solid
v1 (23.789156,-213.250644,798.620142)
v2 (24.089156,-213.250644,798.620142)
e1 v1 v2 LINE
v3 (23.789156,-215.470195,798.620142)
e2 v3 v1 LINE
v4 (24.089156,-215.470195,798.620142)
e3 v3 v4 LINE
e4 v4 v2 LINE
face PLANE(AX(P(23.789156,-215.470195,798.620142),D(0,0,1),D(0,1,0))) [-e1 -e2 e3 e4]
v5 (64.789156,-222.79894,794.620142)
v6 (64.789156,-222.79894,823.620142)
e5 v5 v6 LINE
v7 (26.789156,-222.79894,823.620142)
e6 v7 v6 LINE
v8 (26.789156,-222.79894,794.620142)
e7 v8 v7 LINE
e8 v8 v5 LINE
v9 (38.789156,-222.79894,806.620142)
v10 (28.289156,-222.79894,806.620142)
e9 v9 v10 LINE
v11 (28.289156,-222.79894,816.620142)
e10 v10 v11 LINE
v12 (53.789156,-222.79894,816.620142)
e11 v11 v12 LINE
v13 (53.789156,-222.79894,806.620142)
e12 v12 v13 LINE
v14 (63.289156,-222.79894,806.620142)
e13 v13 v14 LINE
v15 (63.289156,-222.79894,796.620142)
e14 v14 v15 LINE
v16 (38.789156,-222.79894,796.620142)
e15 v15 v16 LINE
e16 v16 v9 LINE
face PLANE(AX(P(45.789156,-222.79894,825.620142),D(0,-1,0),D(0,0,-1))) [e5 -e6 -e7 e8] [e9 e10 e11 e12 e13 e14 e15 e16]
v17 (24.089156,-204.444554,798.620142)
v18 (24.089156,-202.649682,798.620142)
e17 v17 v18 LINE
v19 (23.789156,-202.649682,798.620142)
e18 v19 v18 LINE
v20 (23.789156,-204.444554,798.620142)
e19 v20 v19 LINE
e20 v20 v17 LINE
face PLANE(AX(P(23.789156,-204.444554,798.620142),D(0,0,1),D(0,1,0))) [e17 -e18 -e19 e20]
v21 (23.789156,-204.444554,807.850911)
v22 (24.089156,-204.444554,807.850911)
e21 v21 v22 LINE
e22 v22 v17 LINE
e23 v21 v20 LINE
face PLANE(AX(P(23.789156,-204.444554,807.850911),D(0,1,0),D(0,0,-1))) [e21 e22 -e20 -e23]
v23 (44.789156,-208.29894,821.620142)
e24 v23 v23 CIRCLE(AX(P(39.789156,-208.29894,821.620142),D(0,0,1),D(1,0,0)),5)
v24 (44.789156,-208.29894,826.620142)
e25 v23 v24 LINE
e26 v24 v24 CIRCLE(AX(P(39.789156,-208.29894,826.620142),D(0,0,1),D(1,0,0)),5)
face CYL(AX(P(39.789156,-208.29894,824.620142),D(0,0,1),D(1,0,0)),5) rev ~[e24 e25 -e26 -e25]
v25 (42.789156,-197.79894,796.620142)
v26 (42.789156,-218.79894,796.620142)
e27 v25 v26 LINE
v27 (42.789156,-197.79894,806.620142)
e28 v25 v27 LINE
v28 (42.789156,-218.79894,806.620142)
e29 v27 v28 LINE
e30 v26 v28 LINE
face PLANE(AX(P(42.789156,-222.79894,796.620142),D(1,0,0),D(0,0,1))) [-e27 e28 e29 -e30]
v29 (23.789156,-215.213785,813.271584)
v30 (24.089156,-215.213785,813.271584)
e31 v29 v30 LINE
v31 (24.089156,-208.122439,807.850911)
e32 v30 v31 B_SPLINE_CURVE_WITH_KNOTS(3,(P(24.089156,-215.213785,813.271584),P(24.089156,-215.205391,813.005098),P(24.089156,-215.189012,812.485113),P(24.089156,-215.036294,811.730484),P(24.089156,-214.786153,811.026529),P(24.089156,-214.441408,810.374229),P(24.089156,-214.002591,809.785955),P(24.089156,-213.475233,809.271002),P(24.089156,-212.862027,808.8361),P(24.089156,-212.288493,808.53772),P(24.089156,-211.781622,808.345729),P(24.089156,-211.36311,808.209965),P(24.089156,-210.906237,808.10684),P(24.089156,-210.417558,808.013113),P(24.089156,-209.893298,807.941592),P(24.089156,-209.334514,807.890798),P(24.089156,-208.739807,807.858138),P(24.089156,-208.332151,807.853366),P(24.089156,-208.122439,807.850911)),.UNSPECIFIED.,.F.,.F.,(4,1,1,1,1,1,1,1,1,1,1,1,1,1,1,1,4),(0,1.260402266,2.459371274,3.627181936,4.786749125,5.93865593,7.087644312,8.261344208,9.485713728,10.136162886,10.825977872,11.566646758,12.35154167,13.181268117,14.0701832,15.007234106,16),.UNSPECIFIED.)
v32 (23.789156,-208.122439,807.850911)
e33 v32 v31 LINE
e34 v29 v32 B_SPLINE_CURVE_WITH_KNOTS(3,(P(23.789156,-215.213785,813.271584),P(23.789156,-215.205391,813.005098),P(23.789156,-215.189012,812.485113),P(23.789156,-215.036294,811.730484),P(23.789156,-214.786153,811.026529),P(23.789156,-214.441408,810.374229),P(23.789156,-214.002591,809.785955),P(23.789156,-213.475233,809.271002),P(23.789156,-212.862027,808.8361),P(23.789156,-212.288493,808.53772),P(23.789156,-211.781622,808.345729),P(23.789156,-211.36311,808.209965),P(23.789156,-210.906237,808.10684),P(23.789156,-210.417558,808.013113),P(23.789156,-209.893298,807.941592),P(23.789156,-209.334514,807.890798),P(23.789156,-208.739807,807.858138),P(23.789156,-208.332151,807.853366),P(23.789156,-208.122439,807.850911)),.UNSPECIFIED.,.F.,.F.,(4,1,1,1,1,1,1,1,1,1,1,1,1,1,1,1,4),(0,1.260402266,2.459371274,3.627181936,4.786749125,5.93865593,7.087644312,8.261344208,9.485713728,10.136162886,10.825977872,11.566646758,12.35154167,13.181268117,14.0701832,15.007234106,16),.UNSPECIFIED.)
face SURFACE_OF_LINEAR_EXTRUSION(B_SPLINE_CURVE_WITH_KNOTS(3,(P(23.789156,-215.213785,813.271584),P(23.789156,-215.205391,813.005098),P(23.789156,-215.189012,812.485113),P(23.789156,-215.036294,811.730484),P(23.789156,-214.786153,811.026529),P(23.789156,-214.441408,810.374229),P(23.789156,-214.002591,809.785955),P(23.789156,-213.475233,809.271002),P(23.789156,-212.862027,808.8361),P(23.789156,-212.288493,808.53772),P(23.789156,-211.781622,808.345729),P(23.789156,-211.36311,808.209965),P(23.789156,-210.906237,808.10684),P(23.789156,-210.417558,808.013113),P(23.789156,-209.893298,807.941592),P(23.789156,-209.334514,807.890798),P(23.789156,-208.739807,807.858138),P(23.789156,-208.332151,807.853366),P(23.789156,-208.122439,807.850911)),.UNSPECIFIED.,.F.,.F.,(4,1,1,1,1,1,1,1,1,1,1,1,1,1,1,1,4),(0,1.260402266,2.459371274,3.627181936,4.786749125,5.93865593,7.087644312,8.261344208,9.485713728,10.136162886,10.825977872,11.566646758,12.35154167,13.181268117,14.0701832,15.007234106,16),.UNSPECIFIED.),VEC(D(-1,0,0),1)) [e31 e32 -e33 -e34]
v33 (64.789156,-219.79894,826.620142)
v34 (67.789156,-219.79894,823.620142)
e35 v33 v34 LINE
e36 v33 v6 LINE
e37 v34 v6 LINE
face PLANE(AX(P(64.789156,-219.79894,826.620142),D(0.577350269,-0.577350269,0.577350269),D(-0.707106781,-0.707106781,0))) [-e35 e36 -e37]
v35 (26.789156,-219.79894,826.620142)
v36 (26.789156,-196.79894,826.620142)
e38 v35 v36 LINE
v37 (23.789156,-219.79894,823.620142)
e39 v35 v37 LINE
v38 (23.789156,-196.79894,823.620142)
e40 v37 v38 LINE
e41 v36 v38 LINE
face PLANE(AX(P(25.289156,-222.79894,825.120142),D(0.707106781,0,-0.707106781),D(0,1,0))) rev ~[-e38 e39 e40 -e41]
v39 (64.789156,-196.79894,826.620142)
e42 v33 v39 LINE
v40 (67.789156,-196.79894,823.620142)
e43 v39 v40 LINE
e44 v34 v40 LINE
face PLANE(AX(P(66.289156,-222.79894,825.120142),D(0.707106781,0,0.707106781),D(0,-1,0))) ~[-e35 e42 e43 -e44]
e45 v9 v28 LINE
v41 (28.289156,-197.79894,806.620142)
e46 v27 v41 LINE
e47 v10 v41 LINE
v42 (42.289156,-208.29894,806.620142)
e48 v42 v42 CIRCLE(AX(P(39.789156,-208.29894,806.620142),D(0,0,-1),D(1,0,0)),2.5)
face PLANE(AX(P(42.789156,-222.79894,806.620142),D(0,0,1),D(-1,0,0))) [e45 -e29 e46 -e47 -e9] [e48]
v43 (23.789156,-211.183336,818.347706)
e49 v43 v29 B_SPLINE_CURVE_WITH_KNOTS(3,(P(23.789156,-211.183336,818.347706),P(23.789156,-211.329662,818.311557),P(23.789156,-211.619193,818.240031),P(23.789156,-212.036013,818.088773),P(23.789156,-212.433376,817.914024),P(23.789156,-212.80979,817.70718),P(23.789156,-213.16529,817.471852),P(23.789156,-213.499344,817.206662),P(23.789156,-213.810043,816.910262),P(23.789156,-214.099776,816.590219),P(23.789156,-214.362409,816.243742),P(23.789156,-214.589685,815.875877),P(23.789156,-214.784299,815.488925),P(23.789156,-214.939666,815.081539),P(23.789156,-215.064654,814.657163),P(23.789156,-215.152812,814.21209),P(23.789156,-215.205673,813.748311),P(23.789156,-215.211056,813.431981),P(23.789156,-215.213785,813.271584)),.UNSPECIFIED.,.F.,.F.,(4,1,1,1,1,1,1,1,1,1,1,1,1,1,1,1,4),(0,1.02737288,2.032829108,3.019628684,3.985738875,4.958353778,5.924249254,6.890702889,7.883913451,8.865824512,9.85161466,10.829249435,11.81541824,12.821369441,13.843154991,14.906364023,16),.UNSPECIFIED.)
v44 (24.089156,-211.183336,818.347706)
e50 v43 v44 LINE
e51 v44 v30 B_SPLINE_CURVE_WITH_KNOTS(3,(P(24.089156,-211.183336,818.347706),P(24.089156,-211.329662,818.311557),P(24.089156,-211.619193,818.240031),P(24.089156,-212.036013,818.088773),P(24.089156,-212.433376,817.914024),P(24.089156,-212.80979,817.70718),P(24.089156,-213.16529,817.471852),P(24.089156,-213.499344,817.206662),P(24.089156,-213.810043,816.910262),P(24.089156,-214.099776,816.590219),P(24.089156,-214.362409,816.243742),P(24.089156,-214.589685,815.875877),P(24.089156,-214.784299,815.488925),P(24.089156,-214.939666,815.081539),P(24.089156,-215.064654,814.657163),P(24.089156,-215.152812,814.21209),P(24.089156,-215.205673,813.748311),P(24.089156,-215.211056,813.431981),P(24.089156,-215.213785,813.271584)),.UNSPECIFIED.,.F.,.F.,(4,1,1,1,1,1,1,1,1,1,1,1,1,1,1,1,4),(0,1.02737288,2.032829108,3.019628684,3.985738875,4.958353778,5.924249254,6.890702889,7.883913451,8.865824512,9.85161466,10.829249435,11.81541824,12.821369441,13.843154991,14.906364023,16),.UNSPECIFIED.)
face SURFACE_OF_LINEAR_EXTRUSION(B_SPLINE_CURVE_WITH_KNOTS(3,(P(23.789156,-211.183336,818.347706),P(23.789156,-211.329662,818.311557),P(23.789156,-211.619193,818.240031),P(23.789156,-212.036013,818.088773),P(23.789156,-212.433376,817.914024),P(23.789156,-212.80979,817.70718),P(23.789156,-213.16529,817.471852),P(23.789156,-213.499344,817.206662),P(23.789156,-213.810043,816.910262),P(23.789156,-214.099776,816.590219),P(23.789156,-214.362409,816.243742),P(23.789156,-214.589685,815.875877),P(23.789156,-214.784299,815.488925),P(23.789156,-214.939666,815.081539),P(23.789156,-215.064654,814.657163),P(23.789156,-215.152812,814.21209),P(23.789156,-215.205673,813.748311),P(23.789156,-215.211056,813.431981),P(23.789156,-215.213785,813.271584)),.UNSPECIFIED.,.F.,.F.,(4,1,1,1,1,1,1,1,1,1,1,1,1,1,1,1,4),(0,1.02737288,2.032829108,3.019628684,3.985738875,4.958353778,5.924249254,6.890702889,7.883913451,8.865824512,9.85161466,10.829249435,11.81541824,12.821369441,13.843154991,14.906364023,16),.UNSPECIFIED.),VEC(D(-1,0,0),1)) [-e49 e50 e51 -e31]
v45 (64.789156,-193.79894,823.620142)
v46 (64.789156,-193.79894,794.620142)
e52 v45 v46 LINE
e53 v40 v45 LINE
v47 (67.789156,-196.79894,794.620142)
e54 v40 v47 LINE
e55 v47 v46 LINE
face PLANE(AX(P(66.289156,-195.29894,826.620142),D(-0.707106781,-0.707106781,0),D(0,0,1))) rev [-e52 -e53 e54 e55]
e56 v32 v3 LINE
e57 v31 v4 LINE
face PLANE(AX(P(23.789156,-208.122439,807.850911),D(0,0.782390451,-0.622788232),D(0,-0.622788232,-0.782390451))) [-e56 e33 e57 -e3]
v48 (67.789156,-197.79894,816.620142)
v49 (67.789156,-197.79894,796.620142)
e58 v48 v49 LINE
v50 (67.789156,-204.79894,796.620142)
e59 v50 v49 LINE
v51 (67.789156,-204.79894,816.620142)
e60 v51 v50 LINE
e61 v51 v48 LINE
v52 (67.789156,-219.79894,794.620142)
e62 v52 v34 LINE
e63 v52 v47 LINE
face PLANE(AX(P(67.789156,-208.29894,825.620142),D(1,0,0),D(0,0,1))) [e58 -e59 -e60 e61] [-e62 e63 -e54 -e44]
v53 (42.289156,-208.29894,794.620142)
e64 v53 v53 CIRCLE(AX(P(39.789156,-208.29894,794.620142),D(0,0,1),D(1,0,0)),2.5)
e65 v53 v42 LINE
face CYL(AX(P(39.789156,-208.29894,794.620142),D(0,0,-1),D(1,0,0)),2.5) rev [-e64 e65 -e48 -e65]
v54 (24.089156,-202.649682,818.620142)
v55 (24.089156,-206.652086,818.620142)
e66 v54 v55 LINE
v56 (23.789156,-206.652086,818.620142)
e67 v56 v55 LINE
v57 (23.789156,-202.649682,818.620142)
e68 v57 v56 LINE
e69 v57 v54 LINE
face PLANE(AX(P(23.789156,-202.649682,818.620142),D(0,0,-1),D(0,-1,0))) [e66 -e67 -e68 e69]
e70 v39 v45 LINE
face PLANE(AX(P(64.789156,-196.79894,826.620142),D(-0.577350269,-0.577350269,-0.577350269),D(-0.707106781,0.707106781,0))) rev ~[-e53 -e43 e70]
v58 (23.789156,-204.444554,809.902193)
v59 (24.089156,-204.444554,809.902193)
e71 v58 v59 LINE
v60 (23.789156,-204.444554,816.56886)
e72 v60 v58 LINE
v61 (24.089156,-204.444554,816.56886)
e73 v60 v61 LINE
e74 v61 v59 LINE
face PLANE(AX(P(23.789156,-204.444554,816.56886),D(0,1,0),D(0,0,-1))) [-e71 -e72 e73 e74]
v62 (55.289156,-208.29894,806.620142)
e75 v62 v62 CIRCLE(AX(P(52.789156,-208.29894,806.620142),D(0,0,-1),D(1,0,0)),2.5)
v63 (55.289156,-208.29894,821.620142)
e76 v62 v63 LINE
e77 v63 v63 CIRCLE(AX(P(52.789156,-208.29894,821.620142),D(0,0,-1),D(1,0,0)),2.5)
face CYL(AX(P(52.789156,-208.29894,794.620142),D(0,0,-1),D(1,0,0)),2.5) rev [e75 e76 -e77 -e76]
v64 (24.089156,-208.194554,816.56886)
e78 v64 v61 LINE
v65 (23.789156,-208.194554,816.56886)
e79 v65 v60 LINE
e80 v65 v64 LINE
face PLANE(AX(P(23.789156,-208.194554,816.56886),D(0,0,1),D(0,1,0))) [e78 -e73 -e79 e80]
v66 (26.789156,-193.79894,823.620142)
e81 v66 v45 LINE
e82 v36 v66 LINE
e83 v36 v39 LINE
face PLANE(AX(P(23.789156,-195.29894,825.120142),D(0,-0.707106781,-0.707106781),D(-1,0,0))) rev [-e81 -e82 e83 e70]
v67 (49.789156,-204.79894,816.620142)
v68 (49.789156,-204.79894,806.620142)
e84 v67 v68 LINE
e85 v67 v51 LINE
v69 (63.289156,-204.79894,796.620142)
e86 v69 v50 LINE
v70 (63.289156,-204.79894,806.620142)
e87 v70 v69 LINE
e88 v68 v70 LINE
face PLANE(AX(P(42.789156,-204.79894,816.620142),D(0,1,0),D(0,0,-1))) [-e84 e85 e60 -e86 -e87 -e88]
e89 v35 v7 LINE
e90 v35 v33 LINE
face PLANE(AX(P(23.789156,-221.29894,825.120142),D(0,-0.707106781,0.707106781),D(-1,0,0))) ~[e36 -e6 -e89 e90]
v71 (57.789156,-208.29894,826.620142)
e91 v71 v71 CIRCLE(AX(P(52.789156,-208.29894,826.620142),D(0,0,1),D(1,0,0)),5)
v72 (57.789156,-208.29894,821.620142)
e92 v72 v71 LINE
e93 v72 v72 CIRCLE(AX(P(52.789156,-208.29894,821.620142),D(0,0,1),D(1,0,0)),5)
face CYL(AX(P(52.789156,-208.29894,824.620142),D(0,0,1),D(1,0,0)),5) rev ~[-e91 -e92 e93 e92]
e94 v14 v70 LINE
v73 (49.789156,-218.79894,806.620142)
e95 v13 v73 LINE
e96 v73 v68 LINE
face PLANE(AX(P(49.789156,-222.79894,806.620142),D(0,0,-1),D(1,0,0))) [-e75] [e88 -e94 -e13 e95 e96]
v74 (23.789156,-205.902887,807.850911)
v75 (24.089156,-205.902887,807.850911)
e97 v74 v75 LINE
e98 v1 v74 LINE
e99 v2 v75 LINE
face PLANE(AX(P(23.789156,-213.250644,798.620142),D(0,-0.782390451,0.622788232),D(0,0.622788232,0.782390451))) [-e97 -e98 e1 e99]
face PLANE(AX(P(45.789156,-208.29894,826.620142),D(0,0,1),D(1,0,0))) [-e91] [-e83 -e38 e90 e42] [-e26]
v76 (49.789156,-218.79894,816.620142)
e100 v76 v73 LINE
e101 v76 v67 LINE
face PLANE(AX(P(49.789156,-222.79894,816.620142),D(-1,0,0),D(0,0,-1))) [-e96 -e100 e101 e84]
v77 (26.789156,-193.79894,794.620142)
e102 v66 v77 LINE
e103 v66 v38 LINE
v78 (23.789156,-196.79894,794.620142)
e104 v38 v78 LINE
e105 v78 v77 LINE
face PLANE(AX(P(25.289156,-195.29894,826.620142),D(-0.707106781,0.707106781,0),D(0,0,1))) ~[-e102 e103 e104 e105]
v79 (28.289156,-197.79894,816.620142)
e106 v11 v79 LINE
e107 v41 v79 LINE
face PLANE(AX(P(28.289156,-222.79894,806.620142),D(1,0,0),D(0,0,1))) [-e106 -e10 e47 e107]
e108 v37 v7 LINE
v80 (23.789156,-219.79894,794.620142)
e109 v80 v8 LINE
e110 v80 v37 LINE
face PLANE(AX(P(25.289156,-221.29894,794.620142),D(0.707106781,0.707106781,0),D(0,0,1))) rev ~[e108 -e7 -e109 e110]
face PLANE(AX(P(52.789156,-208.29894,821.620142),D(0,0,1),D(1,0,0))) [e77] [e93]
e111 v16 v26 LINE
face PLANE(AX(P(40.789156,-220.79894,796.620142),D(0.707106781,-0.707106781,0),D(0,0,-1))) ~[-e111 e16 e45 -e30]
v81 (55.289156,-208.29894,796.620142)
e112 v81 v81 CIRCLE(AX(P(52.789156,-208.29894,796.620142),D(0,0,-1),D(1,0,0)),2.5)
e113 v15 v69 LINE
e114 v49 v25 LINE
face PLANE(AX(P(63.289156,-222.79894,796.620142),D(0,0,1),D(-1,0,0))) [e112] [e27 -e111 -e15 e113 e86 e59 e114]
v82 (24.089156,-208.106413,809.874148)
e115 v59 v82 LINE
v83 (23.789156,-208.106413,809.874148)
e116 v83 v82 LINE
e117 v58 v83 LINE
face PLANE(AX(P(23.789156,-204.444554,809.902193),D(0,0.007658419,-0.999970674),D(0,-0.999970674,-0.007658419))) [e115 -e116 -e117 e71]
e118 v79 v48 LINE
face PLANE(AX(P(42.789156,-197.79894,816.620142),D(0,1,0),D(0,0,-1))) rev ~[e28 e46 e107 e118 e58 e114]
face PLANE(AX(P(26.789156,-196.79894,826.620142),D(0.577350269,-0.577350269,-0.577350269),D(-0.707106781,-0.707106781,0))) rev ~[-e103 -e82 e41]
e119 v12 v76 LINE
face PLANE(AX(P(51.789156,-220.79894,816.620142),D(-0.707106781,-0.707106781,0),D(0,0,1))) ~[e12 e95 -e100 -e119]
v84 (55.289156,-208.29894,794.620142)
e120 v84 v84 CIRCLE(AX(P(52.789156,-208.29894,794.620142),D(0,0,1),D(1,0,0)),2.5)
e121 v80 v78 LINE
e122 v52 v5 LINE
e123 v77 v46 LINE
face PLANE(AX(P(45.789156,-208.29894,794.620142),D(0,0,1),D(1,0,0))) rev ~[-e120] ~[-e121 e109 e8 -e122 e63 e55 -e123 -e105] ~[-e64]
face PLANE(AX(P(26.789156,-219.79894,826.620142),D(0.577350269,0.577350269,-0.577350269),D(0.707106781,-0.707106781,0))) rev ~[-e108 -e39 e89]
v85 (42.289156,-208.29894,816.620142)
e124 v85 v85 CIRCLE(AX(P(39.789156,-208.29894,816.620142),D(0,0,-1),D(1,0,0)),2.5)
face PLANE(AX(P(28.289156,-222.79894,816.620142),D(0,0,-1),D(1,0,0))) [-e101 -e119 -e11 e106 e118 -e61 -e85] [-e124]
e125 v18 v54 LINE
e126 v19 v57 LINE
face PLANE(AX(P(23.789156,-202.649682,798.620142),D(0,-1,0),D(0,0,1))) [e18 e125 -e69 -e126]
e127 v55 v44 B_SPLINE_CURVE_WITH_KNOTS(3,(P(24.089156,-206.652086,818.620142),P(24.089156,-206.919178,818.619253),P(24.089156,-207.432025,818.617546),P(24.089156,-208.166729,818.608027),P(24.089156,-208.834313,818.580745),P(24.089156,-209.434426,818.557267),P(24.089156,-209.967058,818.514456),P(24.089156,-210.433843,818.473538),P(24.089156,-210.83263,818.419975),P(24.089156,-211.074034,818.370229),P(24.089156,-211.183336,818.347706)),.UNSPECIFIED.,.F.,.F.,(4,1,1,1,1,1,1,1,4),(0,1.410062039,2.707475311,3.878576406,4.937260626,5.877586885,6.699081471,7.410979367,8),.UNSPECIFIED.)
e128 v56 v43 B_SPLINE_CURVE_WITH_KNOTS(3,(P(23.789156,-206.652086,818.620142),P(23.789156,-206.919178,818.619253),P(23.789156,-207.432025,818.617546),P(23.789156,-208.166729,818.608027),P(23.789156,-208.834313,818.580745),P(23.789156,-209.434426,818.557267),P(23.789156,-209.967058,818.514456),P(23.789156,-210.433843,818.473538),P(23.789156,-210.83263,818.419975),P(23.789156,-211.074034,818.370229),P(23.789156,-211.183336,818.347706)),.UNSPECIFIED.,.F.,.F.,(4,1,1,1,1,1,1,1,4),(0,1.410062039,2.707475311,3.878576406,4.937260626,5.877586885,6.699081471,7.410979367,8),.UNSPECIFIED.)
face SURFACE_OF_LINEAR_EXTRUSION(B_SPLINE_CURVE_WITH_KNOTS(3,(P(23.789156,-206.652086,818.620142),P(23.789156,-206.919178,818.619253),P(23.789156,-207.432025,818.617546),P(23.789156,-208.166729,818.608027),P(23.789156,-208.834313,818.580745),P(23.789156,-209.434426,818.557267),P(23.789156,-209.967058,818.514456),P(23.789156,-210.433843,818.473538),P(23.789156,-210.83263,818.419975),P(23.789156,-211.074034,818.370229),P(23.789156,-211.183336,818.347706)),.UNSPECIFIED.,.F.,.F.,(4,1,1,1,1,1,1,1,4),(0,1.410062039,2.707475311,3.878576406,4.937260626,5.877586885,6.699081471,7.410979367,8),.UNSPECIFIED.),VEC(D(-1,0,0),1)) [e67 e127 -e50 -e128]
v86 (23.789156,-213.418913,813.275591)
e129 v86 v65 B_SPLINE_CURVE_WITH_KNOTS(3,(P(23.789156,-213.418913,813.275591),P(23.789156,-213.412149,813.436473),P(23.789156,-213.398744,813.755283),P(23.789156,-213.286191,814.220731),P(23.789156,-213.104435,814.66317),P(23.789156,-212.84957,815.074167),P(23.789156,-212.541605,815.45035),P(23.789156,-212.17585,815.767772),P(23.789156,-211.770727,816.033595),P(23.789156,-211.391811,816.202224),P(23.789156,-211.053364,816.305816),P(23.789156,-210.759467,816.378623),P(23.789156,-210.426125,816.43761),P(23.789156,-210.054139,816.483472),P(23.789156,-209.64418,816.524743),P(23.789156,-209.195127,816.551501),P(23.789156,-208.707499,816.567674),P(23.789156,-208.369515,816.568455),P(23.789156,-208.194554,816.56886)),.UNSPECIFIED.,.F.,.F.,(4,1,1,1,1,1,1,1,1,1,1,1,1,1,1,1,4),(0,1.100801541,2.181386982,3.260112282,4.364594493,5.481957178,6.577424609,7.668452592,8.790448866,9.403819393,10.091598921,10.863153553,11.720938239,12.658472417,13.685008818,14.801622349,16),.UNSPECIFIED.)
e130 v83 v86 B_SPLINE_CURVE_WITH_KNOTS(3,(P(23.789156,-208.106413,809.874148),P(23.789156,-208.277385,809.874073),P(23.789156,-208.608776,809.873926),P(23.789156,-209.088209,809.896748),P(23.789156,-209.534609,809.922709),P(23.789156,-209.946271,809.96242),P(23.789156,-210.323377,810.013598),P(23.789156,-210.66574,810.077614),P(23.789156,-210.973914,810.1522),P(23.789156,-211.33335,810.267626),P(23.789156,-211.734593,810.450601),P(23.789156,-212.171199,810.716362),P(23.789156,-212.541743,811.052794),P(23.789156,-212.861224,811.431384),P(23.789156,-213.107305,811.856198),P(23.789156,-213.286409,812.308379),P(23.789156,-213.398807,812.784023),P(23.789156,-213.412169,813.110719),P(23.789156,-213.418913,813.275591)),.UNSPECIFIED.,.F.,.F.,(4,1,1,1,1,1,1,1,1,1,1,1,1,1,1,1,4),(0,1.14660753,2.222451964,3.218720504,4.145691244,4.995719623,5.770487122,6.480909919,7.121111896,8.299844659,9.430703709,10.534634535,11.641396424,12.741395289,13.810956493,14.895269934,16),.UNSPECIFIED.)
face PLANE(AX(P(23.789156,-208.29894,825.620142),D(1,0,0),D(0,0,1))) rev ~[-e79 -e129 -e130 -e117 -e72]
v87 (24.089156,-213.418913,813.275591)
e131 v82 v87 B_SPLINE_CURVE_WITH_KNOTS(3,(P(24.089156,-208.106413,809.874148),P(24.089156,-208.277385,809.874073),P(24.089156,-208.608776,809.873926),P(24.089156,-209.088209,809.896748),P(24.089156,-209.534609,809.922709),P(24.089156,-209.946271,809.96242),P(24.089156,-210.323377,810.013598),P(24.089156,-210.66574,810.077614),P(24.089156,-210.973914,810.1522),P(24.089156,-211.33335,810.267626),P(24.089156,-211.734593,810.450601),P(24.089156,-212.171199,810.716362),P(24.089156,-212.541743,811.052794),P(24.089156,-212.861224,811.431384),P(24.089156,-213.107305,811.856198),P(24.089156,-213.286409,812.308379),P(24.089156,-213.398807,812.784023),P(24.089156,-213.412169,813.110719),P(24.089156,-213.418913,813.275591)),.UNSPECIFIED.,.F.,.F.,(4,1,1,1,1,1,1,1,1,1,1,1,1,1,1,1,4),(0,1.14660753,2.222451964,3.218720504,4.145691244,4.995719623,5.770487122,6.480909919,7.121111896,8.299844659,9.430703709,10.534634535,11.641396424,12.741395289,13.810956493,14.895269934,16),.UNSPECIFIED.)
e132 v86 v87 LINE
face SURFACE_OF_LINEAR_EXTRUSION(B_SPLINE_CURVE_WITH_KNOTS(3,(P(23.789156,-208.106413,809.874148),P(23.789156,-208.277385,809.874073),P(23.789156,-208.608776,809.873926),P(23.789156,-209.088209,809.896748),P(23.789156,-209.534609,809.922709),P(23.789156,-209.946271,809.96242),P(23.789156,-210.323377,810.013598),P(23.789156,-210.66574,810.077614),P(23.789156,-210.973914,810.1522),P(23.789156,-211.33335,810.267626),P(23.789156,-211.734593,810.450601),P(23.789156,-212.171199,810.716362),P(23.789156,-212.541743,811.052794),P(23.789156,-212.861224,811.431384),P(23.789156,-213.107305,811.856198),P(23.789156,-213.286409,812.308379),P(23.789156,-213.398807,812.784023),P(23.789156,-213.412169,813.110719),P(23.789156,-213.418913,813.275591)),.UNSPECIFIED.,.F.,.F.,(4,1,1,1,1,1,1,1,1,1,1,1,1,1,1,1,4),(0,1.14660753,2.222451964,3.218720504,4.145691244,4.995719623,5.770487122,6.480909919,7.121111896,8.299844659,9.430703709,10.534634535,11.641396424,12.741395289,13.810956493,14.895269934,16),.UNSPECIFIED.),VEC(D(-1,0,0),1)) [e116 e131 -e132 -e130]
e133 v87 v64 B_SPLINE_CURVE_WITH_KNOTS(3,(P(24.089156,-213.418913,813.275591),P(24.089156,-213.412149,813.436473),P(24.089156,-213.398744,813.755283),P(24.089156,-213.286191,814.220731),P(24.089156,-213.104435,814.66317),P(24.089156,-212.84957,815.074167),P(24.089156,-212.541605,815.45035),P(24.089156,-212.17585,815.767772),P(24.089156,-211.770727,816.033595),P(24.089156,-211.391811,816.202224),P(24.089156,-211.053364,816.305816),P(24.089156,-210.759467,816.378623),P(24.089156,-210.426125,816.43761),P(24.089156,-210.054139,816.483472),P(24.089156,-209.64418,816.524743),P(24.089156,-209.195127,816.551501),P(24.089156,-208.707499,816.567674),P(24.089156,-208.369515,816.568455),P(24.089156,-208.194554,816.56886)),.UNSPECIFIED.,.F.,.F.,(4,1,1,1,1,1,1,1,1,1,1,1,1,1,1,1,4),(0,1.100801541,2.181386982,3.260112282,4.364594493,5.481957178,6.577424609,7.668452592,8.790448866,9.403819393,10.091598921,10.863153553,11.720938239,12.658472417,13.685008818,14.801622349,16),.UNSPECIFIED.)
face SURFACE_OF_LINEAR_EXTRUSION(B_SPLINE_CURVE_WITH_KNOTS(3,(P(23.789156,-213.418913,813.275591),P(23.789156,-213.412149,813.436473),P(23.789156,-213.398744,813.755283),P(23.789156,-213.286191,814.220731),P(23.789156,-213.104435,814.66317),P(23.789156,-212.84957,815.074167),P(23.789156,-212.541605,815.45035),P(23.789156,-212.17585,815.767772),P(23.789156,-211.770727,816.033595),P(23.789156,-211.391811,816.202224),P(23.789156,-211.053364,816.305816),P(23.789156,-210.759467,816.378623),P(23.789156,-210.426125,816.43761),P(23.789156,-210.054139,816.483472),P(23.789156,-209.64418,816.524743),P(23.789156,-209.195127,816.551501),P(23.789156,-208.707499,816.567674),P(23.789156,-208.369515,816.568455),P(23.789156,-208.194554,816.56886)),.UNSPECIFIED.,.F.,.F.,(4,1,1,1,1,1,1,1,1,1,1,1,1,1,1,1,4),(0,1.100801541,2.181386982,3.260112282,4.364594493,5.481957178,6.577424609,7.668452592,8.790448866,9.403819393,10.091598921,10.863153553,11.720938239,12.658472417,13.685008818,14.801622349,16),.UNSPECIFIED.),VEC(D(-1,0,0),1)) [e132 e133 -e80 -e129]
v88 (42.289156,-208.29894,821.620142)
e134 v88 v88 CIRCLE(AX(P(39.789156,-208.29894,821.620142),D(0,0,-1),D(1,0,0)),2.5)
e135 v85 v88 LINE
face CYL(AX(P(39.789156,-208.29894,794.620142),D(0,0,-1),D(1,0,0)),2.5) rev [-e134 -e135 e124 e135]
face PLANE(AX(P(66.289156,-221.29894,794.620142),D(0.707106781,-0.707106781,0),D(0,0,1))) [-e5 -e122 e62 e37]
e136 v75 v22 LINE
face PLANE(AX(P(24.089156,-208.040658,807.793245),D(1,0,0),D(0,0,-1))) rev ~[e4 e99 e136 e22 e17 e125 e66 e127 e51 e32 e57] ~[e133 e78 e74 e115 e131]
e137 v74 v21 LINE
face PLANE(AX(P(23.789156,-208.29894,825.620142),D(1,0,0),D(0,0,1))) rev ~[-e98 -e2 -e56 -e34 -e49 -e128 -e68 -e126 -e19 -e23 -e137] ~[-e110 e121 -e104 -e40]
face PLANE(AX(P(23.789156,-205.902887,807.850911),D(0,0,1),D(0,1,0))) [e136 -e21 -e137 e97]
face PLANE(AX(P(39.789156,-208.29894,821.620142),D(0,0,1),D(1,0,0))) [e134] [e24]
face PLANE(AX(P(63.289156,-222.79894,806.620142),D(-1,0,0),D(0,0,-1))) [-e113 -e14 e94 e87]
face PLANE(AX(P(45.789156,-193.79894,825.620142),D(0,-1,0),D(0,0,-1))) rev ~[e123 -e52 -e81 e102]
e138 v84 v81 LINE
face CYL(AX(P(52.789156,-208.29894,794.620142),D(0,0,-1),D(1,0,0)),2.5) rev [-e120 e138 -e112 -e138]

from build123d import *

# Parameters (mm, degrees)
SKETCH1_W           = 44
SKETCH1_H           = 29
SKETCH1_R           = 2.5
BOSS_EXTRUDE1_DEPTH = 30
CUT_EXTRUDE1_DEPTH  = 25
SKETCH3_W           = 20
SKETCH3_H           = 7
CUT_EXTRUDE2_DEPTH  = 29
SKETCH4_R           = 5
CUT_EXTRUDE3_DEPTH  = 3
THICKEN1_T1         = 2
CHAMFER1_SIZE       = 3
CHAMFER2_SIZE       = 4
CUT_EXTRUDE4_DEPTH  = 0.3


with BuildPart() as part:
    # Sketch1 → Boss-Extrude1 (new body)
    with BuildSketch(Plane.XY.offset(794.620141885)):
        with Locations((45.789156386, -208.298939869)):
            Rectangle(SKETCH1_W, SKETCH1_H)
        with Locations((52.789156386, -208.298939869)):
            Circle(SKETCH1_R, mode=Mode.SUBTRACT)
        with Locations((39.789156386, -208.298939869)):
            Circle(SKETCH1_R, mode=Mode.SUBTRACT)
    extrude(amount=BOSS_EXTRUDE1_DEPTH)

    # Sketch2 → Cut-Extrude1 (cut)
    with BuildSketch(Plane.XZ.offset(222.798939869)):
        Polygon((28.289156386, 816.620141885), (49.789156386, 816.620141885), (49.789156386, 806.620141885), (63.289156386, 806.620141885), (63.289156386, 796.620141885), (42.789156386, 796.620141885), (42.789156386, 806.620141885), (28.289156386, 806.620141885), align=None)
    extrude(amount=-CUT_EXTRUDE1_DEPTH, mode=Mode.SUBTRACT)

    # Sketch3 → Cut-Extrude2 (cut)
    with BuildSketch(Plane(origin=(42.789156386, 0, 0), x_dir=(0, 0, -1), z_dir=(1, 0, 0))):
        with Locations((-806.620141885, -201.298939869)):
            Rectangle(SKETCH3_W, SKETCH3_H)
    extrude(amount=CUT_EXTRUDE2_DEPTH, mode=Mode.SUBTRACT)

    # Sketch4 → Cut-Extrude3 (cut)
    with BuildSketch(Plane.XY.offset(824.620141885)):
        with Locations((39.789156386, -208.298939869)):
            Circle(SKETCH4_R)
        with Locations((52.789156386, -208.298939869)):
            Circle(SKETCH4_R)
    extrude(amount=-CUT_EXTRUDE3_DEPTH, mode=Mode.SUBTRACT)

    # Surface-Offset1: a surface, a copy of 1 face of the part
    surface_offset1_1 = part.part.faces().sort_by_distance((45.718963888, -208.298939869, 824.620141885))[0]
    add(Solid.thicken(surface_offset1_1, THICKEN1_T1))

    # Chamfer1
    chamfer1_edges = [part.edges().sort_by_distance(p)[0] for p in [
        (67.789156386, -222.798939869, 810.620141885),
        (23.789156386, -222.798939869, 810.620141885),
        (23.789156386, -193.798939869, 810.620141885),
        (67.789156386, -193.798939869, 810.620141885),
        (67.789156386, -208.298939869, 826.620141885),
        (45.789156386, -193.798939869, 826.620141885),
        (23.789156386, -208.298939869, 826.620141885),
        (45.789156386, -222.798939869, 826.620141885),
    ]]
    chamfer(chamfer1_edges, length=CHAMFER1_SIZE)

    # Chamfer2
    chamfer2_edges = [part.edges().sort_by_distance(p)[0] for p in [
        (42.789156386, -222.798939869, 801.620141885),
        (49.789156386, -222.798939869, 811.620141885),
    ]]
    chamfer(chamfer2_edges, length=CHAMFER2_SIZE)

    # Sketch5 → Cut-Extrude4 (cut)
    with BuildSketch(Plane.ZY.offset(-23.789156386)):
        with BuildLine():
            Line((818.620141885, -202.649682189), (818.620141885, -206.652086035))
            add(Edge.make_bspline(
                [(818.620141885, -206.652086035), (818.619252822, -206.919178198), (818.617545723, -207.432024737), (818.608027078, -208.166729139), (818.580745045, -208.834312551), (818.557267425, -209.434425918), (818.514456332, -209.967058232), (818.473538348, -210.433842751), (818.419974572, -210.832629594), (818.370229298, -211.074034458), (818.347705987, -211.183336035)],
                knots=[0, 0, 0, 0, 1.410062039, 2.707475311, 3.878576406, 4.937260626, 5.877586885, 6.699081471, 7.410979367, 8, 8, 8, 8], degree=3))
            add(Edge.make_bspline(
                [(818.347705987, -211.183336035), (818.311557144, -211.329662179), (818.240030609, -211.619192932), (818.088773389, -212.036013061), (817.914023625, -212.43337572), (817.707180436, -212.809789724), (817.471851613, -213.165289992), (817.206662217, -213.499344244), (816.910261737, -213.810042595), (816.590218995, -214.099775718), (816.243741522, -214.36240947), (815.875876555, -214.589684619), (815.488924875, -214.784299189), (815.081538972, -214.939665852), (814.657162625, -215.06465357), (814.212090229, -215.15281158), (813.748311447, -215.205673278), (813.431980786, -215.211055618), (813.271584192, -215.213784753)],
                knots=[0, 0, 0, 0, 1.02737288, 2.032829108, 3.019628684, 3.985738875, 4.958353778, 5.924249254, 6.890702889, 7.883913451, 8.865824512, 9.85161466, 10.829249435, 11.81541824, 12.821369441, 13.843154991, 14.906364023, 16, 16, 16, 16], degree=3))
            add(Edge.make_bspline(
                [(813.271584192, -215.213784753), (813.005097574, -215.205390696), (812.485113159, -215.189011716), (811.730483834, -215.036293795), (811.02652923, -214.786153381), (810.374229006, -214.441407876), (809.785954605, -214.002591168), (809.271001623, -213.47523327), (808.836100367, -212.862027363), (808.537719774, -212.288492765), (808.345728912, -211.781622), (808.209965299, -211.3631096), (808.106839718, -210.906236663), (808.013112973, -210.417557724), (807.941591938, -209.893298179), (807.89079841, -209.334513757), (807.858137784, -208.739806906), (807.853365927, -208.332151125), (807.850911115, -208.122438599)],
                knots=[0, 0, 0, 0, 1.260402266, 2.459371274, 3.627181936, 4.786749125, 5.93865593, 7.087644312, 8.261344208, 9.485713728, 10.136162886, 10.825977872, 11.566646758, 12.35154167, 13.181268117, 14.0701832, 15.007234106, 16, 16, 16, 16], degree=3))
            Line((807.850911115, -208.122438599), (798.620141885, -215.470195009))
            Line((798.620141885, -215.470195009), (798.620141885, -213.250643727))
            Line((798.620141885, -213.250643727), (807.850911115, -205.902887317))
            Line((807.850911115, -205.902887317), (807.850911115, -204.444553983))
            Line((807.850911115, -204.444553983), (798.620141885, -204.444553983))
            Line((798.620141885, -204.444553983), (798.620141885, -202.649682189))
            Line((798.620141885, -202.649682189), (818.620141885, -202.649682189))
        make_face()
        with BuildLine():
            Line((816.568859833, -204.444553983), (809.902193167, -204.444553983))
            Line((809.902193167, -204.444553983), (809.874148295, -208.106412958))
            add(Edge.make_bspline(
                [(809.874148295, -208.106412958), (809.874072657, -208.277384608), (809.87392605, -208.608776362), (809.896747622, -209.088208742), (809.922709465, -209.534609347), (809.962419927, -209.946270897), (810.013597756, -210.323376683), (810.077613908, -210.665740215), (810.152200057, -210.973913839), (810.26762556, -211.333350133), (810.45060064, -211.734593079), (810.716361518, -212.17119904), (811.052793662, -212.541742888), (811.431384321, -212.861223503), (811.85619796, -213.107304946), (812.308378702, -213.286409063), (812.784022722, -213.398806876), (813.110718973, -213.412169388), (813.275590603, -213.418912958)],
                knots=[0, 0, 0, 0, 1.14660753, 2.222451964, 3.218720504, 4.145691244, 4.995719623, 5.770487122, 6.480909919, 7.121111896, 8.299844659, 9.430703709, 10.534634535, 11.641396424, 12.741395289, 13.810956493, 14.895269934, 16, 16, 16, 16], degree=3))
            add(Edge.make_bspline(
                [(813.275590603, -213.418912958), (813.436472769, -213.412148659), (813.755282519, -213.398744286), (814.220730727, -213.286191288), (814.663169936, -213.104434652), (815.074166958, -212.849569783), (815.450349769, -212.541604679), (815.767772153, -212.175850326), (816.033594898, -211.77072656), (816.20222429, -211.391811004), (816.305816002, -211.053364398), (816.378622654, -210.759466647), (816.43761036, -210.426125104), (816.483472188, -210.054138637), (816.524742591, -209.644180232), (816.551501228, -209.195127342), (816.567674152, -208.707498527), (816.568455408, -208.369514628), (816.568859833, -208.194553983)],
                knots=[0, 0, 0, 0, 1.100801541, 2.181386982, 3.260112282, 4.364594493, 5.481957178, 6.577424609, 7.668452592, 8.790448866, 9.403819393, 10.091598921, 10.863153553, 11.720938239, 12.658472417, 13.685008818, 14.801622349, 16, 16, 16, 16], degree=3))
            Line((816.568859833, -208.194553983), (816.568859833, -204.444553983))
        make_face(mode=Mode.SUBTRACT)
    extrude(amount=-CUT_EXTRUDE4_DEPTH, mode=Mode.SUBTRACT)


solid = part.part
